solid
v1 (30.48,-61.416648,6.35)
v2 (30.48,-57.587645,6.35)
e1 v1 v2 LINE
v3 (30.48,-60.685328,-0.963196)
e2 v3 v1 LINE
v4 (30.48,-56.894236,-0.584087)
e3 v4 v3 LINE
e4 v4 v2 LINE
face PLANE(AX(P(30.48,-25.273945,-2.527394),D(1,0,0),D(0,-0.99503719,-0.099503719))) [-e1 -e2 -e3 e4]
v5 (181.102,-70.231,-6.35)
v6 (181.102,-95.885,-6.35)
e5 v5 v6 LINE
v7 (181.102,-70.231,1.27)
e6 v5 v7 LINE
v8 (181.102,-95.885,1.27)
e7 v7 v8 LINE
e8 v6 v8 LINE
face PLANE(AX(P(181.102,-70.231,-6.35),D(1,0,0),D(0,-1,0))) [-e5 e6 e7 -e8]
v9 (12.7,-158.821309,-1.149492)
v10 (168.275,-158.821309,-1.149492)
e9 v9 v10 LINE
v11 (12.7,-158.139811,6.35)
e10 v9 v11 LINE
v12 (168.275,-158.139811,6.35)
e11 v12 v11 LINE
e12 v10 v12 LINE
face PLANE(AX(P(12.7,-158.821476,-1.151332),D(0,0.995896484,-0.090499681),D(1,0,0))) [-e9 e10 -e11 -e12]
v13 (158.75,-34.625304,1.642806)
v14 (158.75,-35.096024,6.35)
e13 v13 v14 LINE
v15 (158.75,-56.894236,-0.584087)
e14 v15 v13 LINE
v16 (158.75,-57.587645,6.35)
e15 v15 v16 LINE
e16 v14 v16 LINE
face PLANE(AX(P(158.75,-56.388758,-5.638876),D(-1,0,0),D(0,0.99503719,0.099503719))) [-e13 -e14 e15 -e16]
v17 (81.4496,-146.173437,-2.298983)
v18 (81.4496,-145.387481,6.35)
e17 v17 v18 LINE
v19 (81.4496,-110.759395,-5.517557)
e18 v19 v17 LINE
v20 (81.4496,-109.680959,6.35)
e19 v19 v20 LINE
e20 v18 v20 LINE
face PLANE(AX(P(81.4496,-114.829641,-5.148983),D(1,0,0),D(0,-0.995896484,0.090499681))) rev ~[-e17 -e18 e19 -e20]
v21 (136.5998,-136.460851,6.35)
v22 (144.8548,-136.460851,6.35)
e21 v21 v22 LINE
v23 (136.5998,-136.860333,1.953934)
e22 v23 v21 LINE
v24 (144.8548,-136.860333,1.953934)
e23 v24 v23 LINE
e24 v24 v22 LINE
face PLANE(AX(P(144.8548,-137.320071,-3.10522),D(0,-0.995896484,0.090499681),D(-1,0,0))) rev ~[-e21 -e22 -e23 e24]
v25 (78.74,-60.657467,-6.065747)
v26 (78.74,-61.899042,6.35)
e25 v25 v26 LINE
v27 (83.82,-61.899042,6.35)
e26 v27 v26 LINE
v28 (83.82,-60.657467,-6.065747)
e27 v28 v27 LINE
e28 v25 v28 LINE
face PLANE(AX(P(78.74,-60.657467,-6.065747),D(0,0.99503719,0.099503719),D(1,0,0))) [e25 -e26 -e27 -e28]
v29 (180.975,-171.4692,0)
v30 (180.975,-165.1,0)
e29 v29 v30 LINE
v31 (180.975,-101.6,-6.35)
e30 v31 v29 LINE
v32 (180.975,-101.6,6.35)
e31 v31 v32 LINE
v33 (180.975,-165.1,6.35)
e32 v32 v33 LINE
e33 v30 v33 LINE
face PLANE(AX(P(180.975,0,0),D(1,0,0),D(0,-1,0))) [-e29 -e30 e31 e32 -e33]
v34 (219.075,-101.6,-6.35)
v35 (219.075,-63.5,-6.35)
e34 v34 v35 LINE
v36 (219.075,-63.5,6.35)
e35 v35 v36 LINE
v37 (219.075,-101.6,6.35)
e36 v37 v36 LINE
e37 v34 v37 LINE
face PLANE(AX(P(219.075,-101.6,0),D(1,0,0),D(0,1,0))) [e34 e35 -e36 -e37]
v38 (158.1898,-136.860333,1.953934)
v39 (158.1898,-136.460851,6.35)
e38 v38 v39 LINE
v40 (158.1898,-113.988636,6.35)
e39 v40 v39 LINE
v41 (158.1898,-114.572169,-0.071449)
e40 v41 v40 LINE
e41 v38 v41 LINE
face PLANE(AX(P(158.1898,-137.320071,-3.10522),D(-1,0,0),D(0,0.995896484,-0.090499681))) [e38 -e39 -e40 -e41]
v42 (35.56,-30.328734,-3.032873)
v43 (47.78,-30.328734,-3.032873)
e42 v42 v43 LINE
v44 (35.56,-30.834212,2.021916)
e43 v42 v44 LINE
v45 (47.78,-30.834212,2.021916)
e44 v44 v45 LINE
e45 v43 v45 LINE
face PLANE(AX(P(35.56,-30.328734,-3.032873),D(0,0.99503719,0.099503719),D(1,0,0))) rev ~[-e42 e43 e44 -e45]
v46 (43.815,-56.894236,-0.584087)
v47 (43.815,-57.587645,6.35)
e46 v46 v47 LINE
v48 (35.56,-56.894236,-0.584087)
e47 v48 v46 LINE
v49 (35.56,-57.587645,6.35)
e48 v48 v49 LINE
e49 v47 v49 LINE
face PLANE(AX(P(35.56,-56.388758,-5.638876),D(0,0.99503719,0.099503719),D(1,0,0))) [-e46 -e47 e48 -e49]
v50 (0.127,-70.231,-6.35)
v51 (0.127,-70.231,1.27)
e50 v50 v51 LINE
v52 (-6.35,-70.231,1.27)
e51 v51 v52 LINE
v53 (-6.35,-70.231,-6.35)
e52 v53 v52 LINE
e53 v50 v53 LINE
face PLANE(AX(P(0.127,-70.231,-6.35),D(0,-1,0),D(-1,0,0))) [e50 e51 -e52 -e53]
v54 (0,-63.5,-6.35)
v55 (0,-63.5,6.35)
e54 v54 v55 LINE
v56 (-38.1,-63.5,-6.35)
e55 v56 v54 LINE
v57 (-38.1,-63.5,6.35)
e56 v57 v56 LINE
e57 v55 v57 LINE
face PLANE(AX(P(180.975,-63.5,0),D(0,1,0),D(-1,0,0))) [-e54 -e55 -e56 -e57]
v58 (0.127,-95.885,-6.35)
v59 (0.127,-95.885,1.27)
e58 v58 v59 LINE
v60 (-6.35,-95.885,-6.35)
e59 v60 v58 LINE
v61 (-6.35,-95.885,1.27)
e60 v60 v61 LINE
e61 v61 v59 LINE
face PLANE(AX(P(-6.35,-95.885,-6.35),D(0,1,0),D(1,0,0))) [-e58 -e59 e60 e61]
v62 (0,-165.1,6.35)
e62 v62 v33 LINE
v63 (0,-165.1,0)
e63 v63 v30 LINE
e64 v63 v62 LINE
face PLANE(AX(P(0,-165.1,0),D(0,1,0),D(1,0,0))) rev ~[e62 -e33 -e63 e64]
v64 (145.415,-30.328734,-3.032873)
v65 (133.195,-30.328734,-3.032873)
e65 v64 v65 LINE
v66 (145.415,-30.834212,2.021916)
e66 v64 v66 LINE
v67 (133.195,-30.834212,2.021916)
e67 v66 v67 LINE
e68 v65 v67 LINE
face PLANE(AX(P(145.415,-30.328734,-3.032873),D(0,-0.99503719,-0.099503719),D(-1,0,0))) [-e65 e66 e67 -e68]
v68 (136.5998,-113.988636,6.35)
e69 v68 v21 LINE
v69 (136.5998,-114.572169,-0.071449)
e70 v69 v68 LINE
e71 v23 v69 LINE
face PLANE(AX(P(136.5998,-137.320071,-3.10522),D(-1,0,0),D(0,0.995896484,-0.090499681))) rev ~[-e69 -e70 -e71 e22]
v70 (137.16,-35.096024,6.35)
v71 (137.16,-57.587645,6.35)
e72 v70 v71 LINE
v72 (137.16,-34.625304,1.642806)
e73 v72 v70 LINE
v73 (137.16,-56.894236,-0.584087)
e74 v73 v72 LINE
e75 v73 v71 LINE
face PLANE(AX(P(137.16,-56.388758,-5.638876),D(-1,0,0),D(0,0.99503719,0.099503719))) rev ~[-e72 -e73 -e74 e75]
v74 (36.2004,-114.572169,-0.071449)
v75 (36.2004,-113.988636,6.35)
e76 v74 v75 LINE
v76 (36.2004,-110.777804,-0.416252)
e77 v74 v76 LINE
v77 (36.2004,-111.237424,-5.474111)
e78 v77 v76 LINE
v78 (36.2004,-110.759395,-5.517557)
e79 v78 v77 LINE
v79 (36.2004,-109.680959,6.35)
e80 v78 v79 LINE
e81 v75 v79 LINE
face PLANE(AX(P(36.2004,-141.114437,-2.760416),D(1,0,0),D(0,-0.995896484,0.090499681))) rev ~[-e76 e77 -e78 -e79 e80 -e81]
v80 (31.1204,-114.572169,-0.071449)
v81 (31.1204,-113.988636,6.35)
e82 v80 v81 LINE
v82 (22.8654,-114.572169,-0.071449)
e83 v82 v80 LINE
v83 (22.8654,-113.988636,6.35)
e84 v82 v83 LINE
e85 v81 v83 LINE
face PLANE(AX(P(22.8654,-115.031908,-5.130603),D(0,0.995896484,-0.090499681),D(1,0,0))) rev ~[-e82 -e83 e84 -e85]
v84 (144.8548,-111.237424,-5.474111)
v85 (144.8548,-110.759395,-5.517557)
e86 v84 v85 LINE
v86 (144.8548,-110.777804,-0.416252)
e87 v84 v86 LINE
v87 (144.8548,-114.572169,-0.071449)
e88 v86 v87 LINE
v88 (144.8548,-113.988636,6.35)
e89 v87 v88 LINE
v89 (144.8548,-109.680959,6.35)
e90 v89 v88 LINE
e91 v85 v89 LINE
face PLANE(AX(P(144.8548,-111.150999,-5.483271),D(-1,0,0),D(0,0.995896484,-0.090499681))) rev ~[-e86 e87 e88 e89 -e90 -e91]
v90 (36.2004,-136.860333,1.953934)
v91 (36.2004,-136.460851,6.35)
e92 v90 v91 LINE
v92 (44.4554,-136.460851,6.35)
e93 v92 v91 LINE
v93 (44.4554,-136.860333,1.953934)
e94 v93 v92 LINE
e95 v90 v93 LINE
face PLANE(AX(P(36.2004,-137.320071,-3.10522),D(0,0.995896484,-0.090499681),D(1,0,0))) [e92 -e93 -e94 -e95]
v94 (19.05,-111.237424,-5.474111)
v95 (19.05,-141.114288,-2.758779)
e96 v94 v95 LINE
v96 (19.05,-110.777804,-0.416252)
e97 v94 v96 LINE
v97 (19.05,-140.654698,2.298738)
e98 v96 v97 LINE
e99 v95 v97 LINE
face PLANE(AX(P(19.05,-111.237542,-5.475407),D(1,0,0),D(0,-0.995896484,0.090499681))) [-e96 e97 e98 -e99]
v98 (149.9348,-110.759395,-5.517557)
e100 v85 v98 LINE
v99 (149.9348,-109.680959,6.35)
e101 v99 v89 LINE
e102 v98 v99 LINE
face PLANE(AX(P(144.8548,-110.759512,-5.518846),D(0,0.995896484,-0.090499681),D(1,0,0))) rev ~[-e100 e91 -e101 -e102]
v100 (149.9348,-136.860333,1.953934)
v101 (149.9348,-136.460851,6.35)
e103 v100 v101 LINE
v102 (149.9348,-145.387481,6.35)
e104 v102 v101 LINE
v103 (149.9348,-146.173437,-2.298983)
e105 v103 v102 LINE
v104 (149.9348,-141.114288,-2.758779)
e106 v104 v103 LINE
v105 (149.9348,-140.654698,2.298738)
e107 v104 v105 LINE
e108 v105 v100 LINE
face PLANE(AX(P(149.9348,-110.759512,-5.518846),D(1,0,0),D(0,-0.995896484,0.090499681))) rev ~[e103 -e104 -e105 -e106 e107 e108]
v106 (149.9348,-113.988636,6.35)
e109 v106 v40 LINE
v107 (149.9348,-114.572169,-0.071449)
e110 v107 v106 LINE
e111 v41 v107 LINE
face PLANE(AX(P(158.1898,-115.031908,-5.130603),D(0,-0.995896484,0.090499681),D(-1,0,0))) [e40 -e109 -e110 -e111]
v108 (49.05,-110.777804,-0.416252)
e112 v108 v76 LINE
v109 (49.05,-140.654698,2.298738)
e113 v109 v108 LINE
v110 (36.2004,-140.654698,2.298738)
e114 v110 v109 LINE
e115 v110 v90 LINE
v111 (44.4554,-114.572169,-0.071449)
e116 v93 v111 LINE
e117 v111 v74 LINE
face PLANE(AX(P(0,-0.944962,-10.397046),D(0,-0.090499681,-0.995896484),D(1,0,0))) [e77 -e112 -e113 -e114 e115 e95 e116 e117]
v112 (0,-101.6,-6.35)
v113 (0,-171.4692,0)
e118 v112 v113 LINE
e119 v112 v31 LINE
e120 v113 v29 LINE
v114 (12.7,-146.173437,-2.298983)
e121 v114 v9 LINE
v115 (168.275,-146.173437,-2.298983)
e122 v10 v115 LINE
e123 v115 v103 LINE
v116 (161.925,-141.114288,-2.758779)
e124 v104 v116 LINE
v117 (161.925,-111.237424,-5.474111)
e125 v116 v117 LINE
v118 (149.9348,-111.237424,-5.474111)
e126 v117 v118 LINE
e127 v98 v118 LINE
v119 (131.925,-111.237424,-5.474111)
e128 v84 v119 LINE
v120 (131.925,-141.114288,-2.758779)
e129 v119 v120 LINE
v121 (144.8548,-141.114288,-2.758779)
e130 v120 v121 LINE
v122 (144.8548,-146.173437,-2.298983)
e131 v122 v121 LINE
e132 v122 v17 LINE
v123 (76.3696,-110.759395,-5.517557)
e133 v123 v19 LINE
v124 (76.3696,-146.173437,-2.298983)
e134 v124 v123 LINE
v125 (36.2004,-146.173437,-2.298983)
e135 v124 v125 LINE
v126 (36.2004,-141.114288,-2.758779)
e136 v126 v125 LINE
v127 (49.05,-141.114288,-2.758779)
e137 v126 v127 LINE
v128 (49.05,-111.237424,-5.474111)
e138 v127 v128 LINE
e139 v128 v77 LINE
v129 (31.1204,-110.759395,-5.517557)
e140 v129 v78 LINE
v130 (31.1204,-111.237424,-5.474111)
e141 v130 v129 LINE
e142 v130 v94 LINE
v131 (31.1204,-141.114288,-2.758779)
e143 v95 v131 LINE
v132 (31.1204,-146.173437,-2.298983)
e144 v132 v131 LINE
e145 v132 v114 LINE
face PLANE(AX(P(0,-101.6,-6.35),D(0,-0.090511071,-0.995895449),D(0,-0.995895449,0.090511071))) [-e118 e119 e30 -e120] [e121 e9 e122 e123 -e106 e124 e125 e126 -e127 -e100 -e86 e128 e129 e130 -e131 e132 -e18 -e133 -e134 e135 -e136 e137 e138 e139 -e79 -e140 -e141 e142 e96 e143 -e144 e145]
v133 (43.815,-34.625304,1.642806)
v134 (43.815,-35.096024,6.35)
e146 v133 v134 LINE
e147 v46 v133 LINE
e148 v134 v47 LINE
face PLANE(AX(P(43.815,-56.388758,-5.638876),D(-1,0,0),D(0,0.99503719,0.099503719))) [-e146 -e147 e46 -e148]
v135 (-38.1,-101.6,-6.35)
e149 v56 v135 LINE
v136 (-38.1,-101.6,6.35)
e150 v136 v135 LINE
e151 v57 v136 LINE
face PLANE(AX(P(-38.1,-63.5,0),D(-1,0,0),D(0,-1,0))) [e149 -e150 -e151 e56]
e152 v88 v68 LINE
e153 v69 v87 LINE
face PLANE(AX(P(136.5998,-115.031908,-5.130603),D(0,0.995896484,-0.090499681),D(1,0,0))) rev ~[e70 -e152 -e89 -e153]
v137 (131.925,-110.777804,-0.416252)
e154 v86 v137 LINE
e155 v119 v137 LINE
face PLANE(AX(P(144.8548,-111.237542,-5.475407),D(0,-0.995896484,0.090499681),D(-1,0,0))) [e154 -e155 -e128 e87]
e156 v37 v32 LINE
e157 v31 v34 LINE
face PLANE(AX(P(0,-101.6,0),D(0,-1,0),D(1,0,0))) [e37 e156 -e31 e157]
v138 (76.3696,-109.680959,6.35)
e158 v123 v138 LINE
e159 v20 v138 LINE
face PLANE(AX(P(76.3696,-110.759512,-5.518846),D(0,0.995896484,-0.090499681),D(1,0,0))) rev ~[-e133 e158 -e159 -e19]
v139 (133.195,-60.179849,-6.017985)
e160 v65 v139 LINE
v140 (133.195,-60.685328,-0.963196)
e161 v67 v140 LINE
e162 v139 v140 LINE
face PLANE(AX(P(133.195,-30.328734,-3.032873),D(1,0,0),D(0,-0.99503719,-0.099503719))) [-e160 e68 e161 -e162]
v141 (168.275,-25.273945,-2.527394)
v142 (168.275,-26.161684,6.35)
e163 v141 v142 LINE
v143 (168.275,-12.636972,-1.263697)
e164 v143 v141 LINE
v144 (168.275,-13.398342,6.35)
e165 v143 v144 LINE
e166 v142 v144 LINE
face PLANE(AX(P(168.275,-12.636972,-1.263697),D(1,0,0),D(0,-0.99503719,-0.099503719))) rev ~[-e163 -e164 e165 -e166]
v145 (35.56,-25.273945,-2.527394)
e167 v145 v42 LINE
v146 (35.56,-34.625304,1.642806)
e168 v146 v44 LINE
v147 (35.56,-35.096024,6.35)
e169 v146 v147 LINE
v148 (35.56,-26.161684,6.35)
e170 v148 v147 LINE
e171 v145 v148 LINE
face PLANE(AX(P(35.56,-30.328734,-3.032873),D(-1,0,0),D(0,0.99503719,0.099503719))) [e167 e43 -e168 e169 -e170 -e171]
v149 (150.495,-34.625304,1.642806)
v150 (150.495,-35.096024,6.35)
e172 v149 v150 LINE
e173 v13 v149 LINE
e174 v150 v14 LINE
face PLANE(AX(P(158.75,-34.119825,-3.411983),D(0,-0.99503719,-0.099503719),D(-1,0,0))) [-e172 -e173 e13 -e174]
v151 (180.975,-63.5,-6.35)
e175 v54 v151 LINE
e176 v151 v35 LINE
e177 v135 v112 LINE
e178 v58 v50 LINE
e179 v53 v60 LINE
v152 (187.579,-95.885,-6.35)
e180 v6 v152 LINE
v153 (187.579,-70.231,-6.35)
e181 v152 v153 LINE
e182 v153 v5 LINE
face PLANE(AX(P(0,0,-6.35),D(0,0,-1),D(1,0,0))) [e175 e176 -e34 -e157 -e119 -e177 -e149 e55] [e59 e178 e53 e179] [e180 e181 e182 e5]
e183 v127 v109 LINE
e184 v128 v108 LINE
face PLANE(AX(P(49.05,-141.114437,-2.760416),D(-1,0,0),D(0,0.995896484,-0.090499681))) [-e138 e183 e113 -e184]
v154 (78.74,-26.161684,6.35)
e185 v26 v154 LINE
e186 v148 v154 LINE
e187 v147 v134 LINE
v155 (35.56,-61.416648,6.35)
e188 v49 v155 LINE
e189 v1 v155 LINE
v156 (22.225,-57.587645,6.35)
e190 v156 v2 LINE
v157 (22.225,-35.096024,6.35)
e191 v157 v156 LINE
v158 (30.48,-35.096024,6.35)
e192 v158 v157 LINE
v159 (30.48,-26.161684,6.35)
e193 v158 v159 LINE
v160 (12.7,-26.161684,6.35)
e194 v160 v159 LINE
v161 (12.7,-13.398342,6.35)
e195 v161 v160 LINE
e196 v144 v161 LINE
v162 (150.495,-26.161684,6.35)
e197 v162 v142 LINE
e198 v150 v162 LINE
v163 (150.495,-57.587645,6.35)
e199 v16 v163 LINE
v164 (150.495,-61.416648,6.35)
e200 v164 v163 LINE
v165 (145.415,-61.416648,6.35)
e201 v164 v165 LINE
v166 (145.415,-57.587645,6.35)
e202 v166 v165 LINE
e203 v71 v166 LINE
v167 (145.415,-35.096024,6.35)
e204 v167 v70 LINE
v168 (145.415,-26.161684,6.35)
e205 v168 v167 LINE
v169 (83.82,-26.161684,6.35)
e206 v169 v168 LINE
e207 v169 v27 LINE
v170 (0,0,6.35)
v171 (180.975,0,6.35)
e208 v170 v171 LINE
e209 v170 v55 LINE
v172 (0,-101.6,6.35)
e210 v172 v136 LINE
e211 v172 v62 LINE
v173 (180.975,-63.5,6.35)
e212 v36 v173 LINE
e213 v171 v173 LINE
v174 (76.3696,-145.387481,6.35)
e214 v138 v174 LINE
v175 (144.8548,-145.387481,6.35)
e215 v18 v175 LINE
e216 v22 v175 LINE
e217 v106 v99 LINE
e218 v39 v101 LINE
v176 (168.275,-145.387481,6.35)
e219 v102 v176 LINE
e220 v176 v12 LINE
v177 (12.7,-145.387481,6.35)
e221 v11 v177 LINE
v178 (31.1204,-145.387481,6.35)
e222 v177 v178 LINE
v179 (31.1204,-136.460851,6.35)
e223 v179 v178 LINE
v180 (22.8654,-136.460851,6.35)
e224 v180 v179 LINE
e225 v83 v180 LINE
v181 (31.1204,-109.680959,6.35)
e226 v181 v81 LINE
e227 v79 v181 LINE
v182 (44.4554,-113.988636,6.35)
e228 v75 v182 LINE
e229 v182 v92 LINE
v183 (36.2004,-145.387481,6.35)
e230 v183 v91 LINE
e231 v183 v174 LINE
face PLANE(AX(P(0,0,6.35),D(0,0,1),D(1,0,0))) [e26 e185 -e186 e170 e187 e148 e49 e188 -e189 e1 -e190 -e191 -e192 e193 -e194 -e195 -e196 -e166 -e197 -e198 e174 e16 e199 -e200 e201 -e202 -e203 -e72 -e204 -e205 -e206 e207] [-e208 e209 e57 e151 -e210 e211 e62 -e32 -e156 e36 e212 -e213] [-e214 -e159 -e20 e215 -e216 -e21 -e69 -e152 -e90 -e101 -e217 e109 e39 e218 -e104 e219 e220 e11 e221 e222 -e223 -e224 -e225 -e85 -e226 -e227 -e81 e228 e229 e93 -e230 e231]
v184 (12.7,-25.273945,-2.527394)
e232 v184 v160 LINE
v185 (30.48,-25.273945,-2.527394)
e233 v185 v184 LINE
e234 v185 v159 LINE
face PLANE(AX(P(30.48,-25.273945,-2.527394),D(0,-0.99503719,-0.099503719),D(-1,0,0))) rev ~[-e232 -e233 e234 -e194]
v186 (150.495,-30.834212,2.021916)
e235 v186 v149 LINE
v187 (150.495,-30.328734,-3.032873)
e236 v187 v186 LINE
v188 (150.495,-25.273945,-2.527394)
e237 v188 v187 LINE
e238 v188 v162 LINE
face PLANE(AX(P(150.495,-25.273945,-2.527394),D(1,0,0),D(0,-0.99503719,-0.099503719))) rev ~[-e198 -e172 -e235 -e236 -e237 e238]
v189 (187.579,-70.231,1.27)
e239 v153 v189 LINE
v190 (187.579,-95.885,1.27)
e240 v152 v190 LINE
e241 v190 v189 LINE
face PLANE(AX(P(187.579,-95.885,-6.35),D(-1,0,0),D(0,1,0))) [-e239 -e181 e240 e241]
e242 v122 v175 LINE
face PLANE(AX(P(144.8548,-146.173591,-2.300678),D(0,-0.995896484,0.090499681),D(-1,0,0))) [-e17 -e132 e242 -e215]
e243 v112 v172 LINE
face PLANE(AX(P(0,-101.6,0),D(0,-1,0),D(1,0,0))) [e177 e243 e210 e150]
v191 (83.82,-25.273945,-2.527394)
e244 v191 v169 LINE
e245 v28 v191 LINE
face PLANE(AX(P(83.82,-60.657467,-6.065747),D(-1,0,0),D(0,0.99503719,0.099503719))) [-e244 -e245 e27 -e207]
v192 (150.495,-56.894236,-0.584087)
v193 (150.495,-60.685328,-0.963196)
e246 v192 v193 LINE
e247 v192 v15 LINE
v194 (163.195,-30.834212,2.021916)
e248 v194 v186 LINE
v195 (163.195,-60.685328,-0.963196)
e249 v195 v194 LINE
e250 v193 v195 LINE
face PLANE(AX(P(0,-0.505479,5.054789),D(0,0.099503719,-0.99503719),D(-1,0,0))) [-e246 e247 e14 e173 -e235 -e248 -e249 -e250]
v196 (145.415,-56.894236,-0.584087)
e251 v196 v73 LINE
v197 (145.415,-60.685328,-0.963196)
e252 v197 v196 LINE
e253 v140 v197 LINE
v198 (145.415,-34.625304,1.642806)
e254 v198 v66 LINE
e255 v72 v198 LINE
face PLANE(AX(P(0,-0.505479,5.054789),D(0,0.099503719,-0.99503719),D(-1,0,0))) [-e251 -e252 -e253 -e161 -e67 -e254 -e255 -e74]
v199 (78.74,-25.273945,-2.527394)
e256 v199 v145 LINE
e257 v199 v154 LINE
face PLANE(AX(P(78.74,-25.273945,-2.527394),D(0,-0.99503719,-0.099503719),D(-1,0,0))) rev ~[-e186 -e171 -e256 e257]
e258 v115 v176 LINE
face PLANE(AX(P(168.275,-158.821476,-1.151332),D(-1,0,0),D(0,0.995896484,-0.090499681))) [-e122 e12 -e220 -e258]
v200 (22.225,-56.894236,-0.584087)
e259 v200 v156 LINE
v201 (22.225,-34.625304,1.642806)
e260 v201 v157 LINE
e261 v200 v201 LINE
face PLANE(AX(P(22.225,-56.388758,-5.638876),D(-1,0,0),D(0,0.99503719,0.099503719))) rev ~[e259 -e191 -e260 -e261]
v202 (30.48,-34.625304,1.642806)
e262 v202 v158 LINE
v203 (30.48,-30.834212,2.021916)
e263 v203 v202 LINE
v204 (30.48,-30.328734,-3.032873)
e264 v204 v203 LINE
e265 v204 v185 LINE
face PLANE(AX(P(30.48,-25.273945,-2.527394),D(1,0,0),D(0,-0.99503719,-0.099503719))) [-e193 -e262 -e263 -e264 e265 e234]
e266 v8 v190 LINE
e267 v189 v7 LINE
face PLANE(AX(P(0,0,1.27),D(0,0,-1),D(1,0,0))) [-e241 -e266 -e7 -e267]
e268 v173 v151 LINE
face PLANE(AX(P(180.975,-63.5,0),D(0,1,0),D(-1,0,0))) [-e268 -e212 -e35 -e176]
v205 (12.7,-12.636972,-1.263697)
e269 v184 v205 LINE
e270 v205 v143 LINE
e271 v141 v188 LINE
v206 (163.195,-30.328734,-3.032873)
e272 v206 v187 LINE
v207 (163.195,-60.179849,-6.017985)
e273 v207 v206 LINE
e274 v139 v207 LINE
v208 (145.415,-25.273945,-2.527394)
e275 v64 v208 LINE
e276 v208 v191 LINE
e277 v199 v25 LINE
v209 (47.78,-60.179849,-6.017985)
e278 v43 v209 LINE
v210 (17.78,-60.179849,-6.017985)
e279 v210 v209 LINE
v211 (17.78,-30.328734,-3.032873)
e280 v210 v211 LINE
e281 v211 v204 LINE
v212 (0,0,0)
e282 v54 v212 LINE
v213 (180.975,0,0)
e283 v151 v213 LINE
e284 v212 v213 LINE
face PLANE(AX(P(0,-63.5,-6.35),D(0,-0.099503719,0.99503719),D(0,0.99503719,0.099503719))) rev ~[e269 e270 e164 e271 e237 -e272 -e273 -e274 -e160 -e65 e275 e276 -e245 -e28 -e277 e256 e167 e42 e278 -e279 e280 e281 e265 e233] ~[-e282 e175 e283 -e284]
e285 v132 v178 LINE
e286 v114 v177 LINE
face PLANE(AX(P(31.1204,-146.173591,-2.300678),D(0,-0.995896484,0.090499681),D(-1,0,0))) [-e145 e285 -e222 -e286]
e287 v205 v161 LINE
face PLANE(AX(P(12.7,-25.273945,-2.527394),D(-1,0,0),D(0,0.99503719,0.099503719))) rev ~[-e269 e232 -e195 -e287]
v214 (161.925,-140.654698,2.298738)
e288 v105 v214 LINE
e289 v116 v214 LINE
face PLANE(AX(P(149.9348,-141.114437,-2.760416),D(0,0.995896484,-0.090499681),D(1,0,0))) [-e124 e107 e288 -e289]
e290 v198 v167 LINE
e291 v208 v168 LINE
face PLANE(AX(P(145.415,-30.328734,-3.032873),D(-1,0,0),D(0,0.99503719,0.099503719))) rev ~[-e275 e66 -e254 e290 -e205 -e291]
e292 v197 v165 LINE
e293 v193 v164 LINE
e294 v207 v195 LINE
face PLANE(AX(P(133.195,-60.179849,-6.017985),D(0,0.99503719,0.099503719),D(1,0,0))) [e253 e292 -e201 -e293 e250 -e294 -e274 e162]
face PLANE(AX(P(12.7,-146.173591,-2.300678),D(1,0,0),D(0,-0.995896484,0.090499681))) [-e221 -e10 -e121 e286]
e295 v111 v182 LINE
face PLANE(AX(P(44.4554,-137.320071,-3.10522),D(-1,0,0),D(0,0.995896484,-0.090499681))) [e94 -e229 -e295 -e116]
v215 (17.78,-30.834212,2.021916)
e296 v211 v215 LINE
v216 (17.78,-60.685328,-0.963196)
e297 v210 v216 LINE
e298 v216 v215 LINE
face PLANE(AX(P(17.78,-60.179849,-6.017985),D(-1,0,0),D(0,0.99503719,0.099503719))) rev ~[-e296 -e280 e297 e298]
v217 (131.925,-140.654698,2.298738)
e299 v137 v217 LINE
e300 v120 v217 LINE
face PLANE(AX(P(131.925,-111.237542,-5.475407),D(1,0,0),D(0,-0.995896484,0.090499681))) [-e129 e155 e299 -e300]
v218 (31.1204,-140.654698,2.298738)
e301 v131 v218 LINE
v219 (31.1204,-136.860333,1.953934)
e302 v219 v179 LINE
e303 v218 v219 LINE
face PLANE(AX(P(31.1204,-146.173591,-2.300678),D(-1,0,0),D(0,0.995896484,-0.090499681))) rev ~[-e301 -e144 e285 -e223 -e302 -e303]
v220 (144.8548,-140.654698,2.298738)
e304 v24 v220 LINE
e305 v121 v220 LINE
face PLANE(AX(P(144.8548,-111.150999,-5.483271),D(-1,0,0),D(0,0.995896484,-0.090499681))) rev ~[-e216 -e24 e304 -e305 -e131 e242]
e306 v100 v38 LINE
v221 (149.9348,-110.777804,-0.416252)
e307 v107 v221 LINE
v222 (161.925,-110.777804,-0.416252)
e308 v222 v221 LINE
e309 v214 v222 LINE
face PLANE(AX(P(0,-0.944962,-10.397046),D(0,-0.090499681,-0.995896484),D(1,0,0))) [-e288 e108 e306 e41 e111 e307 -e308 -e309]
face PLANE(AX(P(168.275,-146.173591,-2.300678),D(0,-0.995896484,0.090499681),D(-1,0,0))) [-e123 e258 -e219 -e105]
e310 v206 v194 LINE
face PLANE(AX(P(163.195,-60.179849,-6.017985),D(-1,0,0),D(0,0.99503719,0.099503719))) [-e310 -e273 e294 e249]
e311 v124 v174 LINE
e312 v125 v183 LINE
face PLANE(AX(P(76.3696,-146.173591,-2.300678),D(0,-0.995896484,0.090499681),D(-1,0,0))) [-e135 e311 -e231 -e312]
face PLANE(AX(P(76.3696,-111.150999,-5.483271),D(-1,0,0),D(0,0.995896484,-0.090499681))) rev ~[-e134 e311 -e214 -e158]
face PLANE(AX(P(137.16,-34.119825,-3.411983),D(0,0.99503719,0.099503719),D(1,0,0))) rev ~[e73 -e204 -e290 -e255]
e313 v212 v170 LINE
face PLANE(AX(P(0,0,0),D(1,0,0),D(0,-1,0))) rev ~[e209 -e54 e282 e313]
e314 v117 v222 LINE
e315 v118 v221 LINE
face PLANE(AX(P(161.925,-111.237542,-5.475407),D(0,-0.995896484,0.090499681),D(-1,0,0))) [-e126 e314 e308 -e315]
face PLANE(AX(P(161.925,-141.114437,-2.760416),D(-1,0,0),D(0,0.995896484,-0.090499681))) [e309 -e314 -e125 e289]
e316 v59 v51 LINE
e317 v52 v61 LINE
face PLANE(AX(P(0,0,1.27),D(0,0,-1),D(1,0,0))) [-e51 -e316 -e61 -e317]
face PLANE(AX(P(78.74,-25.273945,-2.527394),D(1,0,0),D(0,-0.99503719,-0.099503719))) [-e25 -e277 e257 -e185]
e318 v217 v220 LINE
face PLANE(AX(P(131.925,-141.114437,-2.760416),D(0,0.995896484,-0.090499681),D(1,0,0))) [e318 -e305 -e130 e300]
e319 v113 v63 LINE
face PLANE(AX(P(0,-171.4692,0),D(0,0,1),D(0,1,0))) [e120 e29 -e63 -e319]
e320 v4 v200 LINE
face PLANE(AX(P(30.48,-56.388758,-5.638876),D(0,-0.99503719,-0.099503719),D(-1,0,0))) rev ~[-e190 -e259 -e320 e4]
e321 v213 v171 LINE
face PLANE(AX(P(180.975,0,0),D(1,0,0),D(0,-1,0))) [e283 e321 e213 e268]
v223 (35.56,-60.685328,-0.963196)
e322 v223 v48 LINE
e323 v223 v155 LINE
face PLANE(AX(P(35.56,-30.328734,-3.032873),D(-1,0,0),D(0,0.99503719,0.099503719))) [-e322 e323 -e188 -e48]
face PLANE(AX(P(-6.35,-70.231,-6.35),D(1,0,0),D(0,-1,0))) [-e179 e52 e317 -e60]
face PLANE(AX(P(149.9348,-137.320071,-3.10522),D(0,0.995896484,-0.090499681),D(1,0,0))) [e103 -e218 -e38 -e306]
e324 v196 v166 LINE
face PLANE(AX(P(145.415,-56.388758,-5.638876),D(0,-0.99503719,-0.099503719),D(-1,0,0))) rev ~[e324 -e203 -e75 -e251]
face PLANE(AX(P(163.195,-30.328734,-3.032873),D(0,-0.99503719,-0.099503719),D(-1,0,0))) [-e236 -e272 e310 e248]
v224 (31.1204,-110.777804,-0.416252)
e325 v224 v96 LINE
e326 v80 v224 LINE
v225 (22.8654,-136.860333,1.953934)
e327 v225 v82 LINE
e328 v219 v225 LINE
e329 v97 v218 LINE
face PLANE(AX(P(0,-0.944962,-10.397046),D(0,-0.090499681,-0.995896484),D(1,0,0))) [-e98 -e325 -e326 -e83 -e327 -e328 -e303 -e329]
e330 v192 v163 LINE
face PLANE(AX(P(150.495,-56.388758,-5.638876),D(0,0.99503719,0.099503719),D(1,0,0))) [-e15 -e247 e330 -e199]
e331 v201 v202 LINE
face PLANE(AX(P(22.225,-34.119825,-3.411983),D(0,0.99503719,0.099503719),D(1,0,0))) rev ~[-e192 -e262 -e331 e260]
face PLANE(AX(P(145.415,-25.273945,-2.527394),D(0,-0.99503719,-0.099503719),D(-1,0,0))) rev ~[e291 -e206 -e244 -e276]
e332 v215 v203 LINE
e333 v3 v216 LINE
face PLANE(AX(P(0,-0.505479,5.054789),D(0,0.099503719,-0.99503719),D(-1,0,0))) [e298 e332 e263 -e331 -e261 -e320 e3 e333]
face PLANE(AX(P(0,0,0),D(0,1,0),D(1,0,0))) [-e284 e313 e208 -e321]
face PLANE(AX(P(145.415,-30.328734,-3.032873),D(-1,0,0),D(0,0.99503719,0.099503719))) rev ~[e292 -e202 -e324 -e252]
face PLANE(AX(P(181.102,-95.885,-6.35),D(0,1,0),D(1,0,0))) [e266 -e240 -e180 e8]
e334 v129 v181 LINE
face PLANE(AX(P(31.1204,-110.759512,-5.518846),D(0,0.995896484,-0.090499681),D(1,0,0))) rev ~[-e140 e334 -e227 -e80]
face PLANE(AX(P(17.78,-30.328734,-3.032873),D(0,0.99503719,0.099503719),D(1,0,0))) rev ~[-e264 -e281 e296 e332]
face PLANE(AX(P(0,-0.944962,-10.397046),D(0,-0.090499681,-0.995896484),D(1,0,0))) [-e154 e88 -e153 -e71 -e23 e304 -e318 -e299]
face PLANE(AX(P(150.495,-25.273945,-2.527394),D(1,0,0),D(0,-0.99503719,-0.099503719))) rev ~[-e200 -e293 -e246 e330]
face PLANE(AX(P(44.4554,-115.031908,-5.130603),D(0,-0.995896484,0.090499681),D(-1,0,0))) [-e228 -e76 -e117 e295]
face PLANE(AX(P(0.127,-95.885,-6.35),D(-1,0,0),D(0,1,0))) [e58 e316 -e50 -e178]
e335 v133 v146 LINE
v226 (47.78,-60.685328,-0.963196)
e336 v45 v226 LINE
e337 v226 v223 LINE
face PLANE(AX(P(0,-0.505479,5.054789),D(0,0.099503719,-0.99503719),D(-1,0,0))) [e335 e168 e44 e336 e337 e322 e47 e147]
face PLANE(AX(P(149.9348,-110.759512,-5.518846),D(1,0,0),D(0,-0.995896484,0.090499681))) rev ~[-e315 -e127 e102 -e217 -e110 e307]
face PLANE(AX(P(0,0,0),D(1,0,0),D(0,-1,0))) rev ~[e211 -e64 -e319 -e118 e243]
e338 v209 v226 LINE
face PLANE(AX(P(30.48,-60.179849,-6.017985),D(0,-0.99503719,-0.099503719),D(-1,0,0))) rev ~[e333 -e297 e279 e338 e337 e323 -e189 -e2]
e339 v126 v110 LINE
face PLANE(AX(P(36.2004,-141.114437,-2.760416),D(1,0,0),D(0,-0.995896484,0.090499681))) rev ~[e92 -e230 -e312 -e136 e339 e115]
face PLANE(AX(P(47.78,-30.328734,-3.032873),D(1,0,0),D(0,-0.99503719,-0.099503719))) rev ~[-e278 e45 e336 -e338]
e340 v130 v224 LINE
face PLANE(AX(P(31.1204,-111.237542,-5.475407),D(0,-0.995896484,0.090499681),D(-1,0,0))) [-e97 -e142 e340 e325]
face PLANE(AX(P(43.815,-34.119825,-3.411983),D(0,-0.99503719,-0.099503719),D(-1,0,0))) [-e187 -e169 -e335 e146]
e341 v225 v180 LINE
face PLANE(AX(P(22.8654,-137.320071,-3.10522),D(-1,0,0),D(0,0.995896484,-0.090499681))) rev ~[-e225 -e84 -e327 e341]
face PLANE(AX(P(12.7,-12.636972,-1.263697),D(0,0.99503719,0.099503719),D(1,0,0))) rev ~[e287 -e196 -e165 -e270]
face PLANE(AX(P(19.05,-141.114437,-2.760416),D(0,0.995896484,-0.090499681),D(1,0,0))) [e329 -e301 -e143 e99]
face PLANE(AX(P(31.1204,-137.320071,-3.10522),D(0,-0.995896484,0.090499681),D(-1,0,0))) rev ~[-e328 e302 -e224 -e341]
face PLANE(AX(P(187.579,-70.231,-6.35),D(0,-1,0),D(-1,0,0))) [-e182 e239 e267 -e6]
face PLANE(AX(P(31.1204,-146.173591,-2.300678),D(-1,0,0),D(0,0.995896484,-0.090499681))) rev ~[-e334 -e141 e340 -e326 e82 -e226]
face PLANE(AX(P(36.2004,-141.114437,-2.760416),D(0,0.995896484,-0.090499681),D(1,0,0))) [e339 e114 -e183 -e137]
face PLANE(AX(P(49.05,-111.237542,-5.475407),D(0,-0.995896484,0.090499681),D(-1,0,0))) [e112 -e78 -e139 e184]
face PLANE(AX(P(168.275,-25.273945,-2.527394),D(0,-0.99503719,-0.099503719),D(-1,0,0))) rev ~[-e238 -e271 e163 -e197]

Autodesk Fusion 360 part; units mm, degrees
sketch "Sketch1" plane through (0, 0, 0) normal (0, 0, 1) x (1, 0, 0)
  line L0 (0, 0) -> (180.975, 0)
  line L1 (0, 0) -> (0, -165.1)
  line L2 (0, -165.1) -> (180.975, -165.1)
  line L3 (180.975, 0) -> (180.975, -165.1)
  dimension "d1" = 180.975
  dimension "d2" = 180.975
  dimension "d36" = 165.1
extrude "Extrude1" add sketch "Sketch1" along normal blind 6.35
sketch "Sketch2" plane through (0, 0, 6.35) normal (0, 0, 1) x (-1, 0, 0)
  line L0 (0, 0) -> (0, 165.1)
  line L1 (0, 165.1) -> (-180.975, 165.1)
  line L2 (-180.975, 165.1) -> (-180.975, 0)
  line L3 (-180.975, 0) -> (0, 0)
sketch "Sketch4" plane through (0, 0, 0) normal (0, 0, -1) x (1, 0, 0)
  line L0 (0, 165.1) -> (0, 0)
  line L1 (0, 0) -> (180.975, 0)
  line L2 (180.975, 0) -> (180.975, 165.1)
  line L3 (180.975, 165.1) -> (0, 165.1)
  line L4 (193.675, 57.15) -> (0, 57.15)
  line L5 (0, 107.95) -> (193.675, 107.95)
  curve L6
  curve L7
  line L8 (193.675, 107.95) -> (193.675, 57.15)
  dimension "d33" = 50.8
  dimension "d34" = 57.15
  dimension "d41" = 193.675
sketch "Sketch5" plane through (0, 0, 0) normal (1, 0, 0) x (0, 1, 0)
  line L0 (-69.85, -6.35) -> (0, 0)
  line L1 (-95.2638, -6.3731) -> (-165.1, 0)
  line L2 (-69.85, -6.35) -> (-69.85, 0)
  line L3 (-69.85, 0) -> (0, 0)
  line L4 (-95.2638, -6.3731) -> (-95.2638, 0)
  line L5 (-95.2638, 0) -> (-165.1, 0)
sketch "Sketch10" plane through (0, 0, 0) normal (-1, 0, 0) x (0, -1, 0)
  line L0 (0, 0) -> (165.1, 0)
  line L1 (165.1, 0) -> (165.1, 6.35)
  line L2 (165.1, 6.35) -> (0, 6.35)
  line L3 (0, 6.35) -> (0, 0)
  line L4 (165.1, 0) -> (69.85, 0)
  line L5 (69.85, 0) -> (69.85, -6.35)
sketch "Sketch11" plane through (0, 0, 0) normal (0, 0, -1) x (1, 0, 0)
  line L0 (0, 165.1) -> (0, 0)
  line L1 (0, 0) -> (180.975, 0)
  line L2 (180.975, 0) -> (180.975, 165.1)
  line L3 (180.975, 165.1) -> (0, 165.1)
  line L4 (-38.1, 101.6) -> (219.075, 101.6)
  line L5 (219.075, 101.6) -> (219.075, 63.5)
  line L6 (219.075, 63.5) -> (-38.1, 63.5)
  line L7 (-38.1, 63.5) -> (-38.1, 101.6)
  dimension "d67" = 38.1
  dimension "d68" = 38.1
  dimension "d69" = 38.1
  dimension "d70" = 63.5
  dimension "d71" = 165.1
extrude "Extrude12" add sketch "Sketch11" along normal blind 6.35 and the other way blind 6.35 contours L0 L2 L4 L6 | L0 L4 L6 L7 | L2 L4 L5 L6
sketch "Sketch12" plane through (0, 0, 0) normal (1, 0, 0) x (0, 1, 0)
  line L0 (-101.6, -6.35) -> (-171.4692, 0)
  line L1 (-171.4692, 0) -> (-101.6, 0)
  line L2 (-101.6, 0) -> (-101.6, -6.35)
  line L3 (-63.5, -6.35) -> (0, 0)
  line L4 (0, 0) -> (-63.5, 0)
  line L5 (-63.5, 0) -> (-63.5, -6.35)
  curve L6
  curve L7
  point P0 (-63.5, 0)
extrude "Extrude13" add sketch "Sketch12" along normal up to surface (180.975 mm away)
sketch "Sketch13" plane through (0, -1.4047, -15.4562) normal (0, -0.0905, -0.9959) x (1, 0, 0)
  line L0 (180.975, 100.6082) -> (180.975, 170.7654)
  line L1 (0, 170.7654) -> (0, 100.6082)
  line L2 (180.975, 170.7654) -> (0, 170.7654)
  line L3 (-89.535, 82.5409) -> (270.51, 82.5409)
  line L4 (161.925, 110.2854) -> (131.925, 110.2854)
  line L5 (131.925, 110.2854) -> (131.925, 140.2854)
  line L6 (131.925, 140.2854) -> (161.925, 140.2854)
  line L7 (161.925, 140.2854) -> (161.925, 110.2854)
  line L8 (12.7, 158.0654) -> (168.275, 158.0654)
  line L9 (168.275, 158.0654) -> (168.275, 145.3654)
  line L10 (168.275, 145.3654) -> (12.7, 145.3654)
  line L11 (12.7, 145.3654) -> (12.7, 158.0654)
  line L12 (49.05, 140.2854) -> (49.05, 110.2854)
  line L13 (19.05, 140.2854) -> (49.05, 140.2854)
  line L14 (19.05, 110.2854) -> (19.05, 140.2854)
  line L15 (49.05, 110.2854) -> (19.05, 110.2854)
  line L16 (81.4496, 145.3654) -> (76.3696, 145.3654)
  line L17 (76.3696, 145.3654) -> (76.3696, 109.8054)
  line L18 (76.3696, 109.8054) -> (81.4496, 109.8054)
  line L19 (81.4496, 109.8054) -> (81.4496, 145.3654)
  line L20 (36.2004, 145.3654) -> (31.1204, 145.3654)
  line L21 (31.1204, 145.3654) -> (31.1204, 109.8054)
  line L22 (31.1204, 109.8054) -> (36.2004, 109.8054)
  line L23 (36.2004, 109.8054) -> (36.2004, 145.3654)
  line L24 (149.9348, 145.3654) -> (144.8548, 145.3654)
  line L25 (144.8548, 145.3654) -> (144.8548, 109.8054)
  line L26 (144.8548, 109.8054) -> (149.9348, 109.8054)
  line L27 (149.9348, 109.8054) -> (149.9348, 145.3654)
  line L28 (76.3696, 114.1232) -> (76.3696, 110.1985)
  line L29 (36.2004, 110.1985) -> (36.2004, 114.1232)
  line L30 (144.8548, 136.3032) -> (144.8548, 110.1985)
  line L31 (81.4496, 110.1985) -> (81.4496, 113.8923)
  line L32 (144.8548, 113.0707) -> (144.8548, 136.3032)
  line L33 (149.9348, 113.1663) -> (149.9348, 136.2076)
  dimension "d103" = 30
  dimension "d104" = 30
  dimension "d106" = 12.7
  dimension "d108" = 12.7
  dimension "d109" = 12.7
  dimension "d110" = 12.7
  dimension "d111" = 30.48
  dimension "d112" = 19.05
  dimension "d113" = 30
  dimension "d114" = 30
  dimension "d115" = 19.05
  dimension "d116" = 30.48
  dimension "d119" = 5.08
  dimension "d120" = 35.56
  dimension "d121" = 5.08
  dimension "d122" = 35.56
  dimension "d123" = 5.08
  dimension "d124" = 35.56
sketch "Sketch14" plane through (0, 0, -6.35) normal (0, 0, -1) x (1, 0, 0)
  line L0 (-38.1, 63.5) -> (0, 63.5)
  line L1 (219.075, 63.5) -> (219.075, 101.6)
  line L2 (219.075, 101.6) -> (180.975, 101.6)
  line L3 (-38.1, 101.6) -> (-38.1, 63.5)
  line L4 (-6.35, 95.885) -> (0.127, 95.885)
  line L5 (0.127, 95.885) -> (0.127, 70.231)
  line L6 (0.127, 70.231) -> (-6.35, 70.231)
  line L7 (-6.35, 70.231) -> (-6.35, 95.885)
  line L8 (181.102, 95.885) -> (187.579, 95.885)
  line L9 (187.579, 95.885) -> (187.579, 70.231)
  line L10 (187.579, 70.231) -> (181.102, 70.231)
  line L11 (181.102, 70.231) -> (181.102, 95.885)
  line L12 (180.975, 101.6) -> (0, 101.6)
  line L13 (0, 101.6) -> (-38.1, 101.6)
  line L14 (0, 63.5) -> (180.975, 63.5)
  line L15 (180.975, 63.5) -> (219.075, 63.5)
  dimension "d80" = 25.654
  dimension "d81" = 6.477
  dimension "d82" = 5.715
  dimension "d83" = 25.654
  dimension "d84" = 6.477
  dimension "d85" = 5.715
  dimension "d87" = 180.975
  dimension "d88" = 31.75
extrude "Extrude15" cut sketch "Sketch14" against normal blind 7.62 contours L4 L5 L6 L7 | L8 L9 L10 L11
extrude "Extrude16" cut sketch "Sketch13" against normal blind 12.7 contours L4 L25 L26 L27 L30 | L4 L6 L25 L27 L30 L32 L33 | L6 L10 L24 L25 L27 | L8 L9 L10 L11 L16 L20 L24 | L10 L16 L17 L18 L19 L28 L31 | L10 L13 L20 L21 L23 | L13 L15 L21 L23 L29 | L15 L21 L22 L23 L29
extrude "Extrude17" cut sketch "Sketch13" against normal blind 5.08 contours L4 L6 L7 L27 L33 | L4 L5 L6 L25 L30 L32 | L12 L13 L15 L23 L29 | L13 L14 L15 L21
sketch "Sketch15" plane through (0, -1.4047, -15.4562) normal (0, -0.0905, -0.9959) x (1, 0, 0)
  line L0 (31.1204, 136.4754) -> (22.8654, 136.4754)
  line L1 (22.8654, 136.4754) -> (22.8654, 114.0954)
  line L2 (22.8654, 114.0954) -> (31.1204, 114.0954)
  line L3 (31.1204, 114.0954) -> (31.1204, 136.4754)
  line L4 (36.2004, 136.4754) -> (44.4554, 136.4754)
  line L5 (44.4554, 136.4754) -> (44.4554, 114.0954)
  line L6 (44.4554, 114.0954) -> (36.2004, 114.0954)
  line L7 (36.2004, 114.0954) -> (36.2004, 136.4754)
  line L8 (36.2004, 109.8054) -> (36.2004, 145.3654)
  line L9 (31.1204, 145.3654) -> (31.1204, 109.8054)
  line L10 (19.05, 140.2854) -> (49.05, 140.2854)
  line L11 (49.05, 110.2854) -> (19.05, 110.2854)
  line L12 (144.8548, 136.4754) -> (136.5998, 136.4754)
  line L13 (136.5998, 136.4754) -> (136.5998, 114.0954)
  line L14 (136.5998, 114.0954) -> (144.8548, 114.0954)
  line L15 (144.8548, 114.0954) -> (144.8548, 136.4754)
  line L16 (149.9348, 136.4754) -> (158.1898, 136.4754)
  line L17 (158.1898, 136.4754) -> (158.1898, 114.0954)
  line L18 (158.1898, 114.0954) -> (149.9348, 114.0954)
  line L19 (149.9348, 114.0954) -> (149.9348, 136.4754)
  line L20 (131.925, 140.2854) -> (161.925, 140.2854)
  line L21 (161.925, 110.2854) -> (131.925, 110.2854)
  line L22 (144.8548, 145.3654) -> (144.8548, 109.8054)
  line L23 (149.9348, 109.8054) -> (149.9348, 145.3654)
  dimension "d127" = 8.255
  dimension "d128" = 8.255
  dimension "d129" = 3.81
  dimension "d130" = 3.81
  dimension "d131" = 3.81
  dimension "d132" = 3.81
  dimension "d133" = 3.81
  dimension "d134" = 3.81
  dimension "d135" = 3.81
  dimension "d136" = 3.81
  dimension "d137" = 8.255
  dimension "d138" = 8.255
extrude "Extrude18" cut sketch "Sketch15" against normal blind 12.7 contours L0 L1 L2 L3 L9 | L4 L5 L6 L7 L8 | L12 L13 L14 L15 L22 | L16 L17 L18 L19 L23
sketch "Sketch17" plane through (0, 0, 0) normal (0, 0.0995, -0.995) x (-1, 0, 0)
  line L0 (-180.975, 0) -> (-180.975, -63.8167)
  line L1 (0, -63.8167) -> (0, 0)
  line L2 (0, 0) -> (-180.975, 0)
  line L3 (-168.275, -25.4) -> (-12.7, -25.4)
  line L4 (-12.7, -25.4) -> (-12.7, -12.7)
  line L5 (-12.7, -12.7) -> (-168.275, -12.7)
  line L6 (-168.275, -12.7) -> (-168.275, -25.4)
  line L7 (-180.975, -63.8167) -> (0, -63.8167)
  line L8 (-35.56, -25.4) -> (-30.48, -25.4)
  line L9 (-30.48, -25.4) -> (-30.48, -60.96)
  line L10 (-30.48, -60.96) -> (-35.56, -60.96)
  line L11 (-35.56, -60.96) -> (-35.56, -25.4)
  line L12 (-83.82, -25.4) -> (-78.74, -25.4)
  line L13 (-78.74, -25.4) -> (-78.74, -60.96)
  line L14 (-78.74, -60.96) -> (-83.82, -60.96)
  line L15 (-83.82, -60.96) -> (-83.82, -25.4)
  line L16 (-145.415, -25.4) -> (-150.495, -25.4)
  line L17 (-150.495, -25.4) -> (-150.495, -60.96)
  line L18 (-150.495, -60.96) -> (-145.415, -60.96)
  line L19 (-145.415, -60.96) -> (-145.415, -25.4)
  line L20 (-47.78, -60.48) -> (-17.78, -60.48)
  line L21 (-17.78, -60.48) -> (-17.78, -30.48)
  line L22 (-17.78, -30.48) -> (-47.78, -30.48)
  line L23 (-47.78, -30.48) -> (-47.78, -60.48)
  line L24 (-133.195, -60.48) -> (-163.195, -60.48)
  line L25 (-163.195, -60.48) -> (-163.195, -30.48)
  line L26 (-163.195, -30.48) -> (-133.195, -30.48)
  line L27 (-133.195, -30.48) -> (-133.195, -60.48)
  dimension "d141" = 12.7
  dimension "d142" = 12.7
  dimension "d143" = 12.7
  dimension "d144" = 12.7
  dimension "d145" = 5.08
  dimension "d146" = 35.56
  dimension "d147" = 30.48
  dimension "d148" = 5.08
  dimension "d149" = 35.56
  dimension "d150" = 5.08
  dimension "d151" = 35.56
  dimension "d152" = 30.48
  dimension "d153" = 30
  dimension "d154" = 30
  dimension "d155" = 17.78
  dimension "d156" = 30
  dimension "d157" = 30
  dimension "d158" = 17.78
  dimension "d159" = 30.48
  dimension "d160" = 30.48
extrude "Extrude19" cut sketch "Sketch17" against normal blind 15.24 contours L3 L4 L5 L6 L8 L12 L16 | L3 L16 L17 L19 L26 | L17 L19 L24 L26 | L3 L12 L13 L14 L15 | L3 L8 L9 L11 L22 | L9 L11 L20 L22
extrude "Extrude20" cut sketch "Sketch17" against normal blind 5.08 contours L17 L24 L25 L26 | L19 L24 L26 L27 | L9 L20 L21 L22 | L11 L20 L22 L23
sketch "Sketch18" plane through (0, 0, 0) normal (0, 0.0995, -0.995) x (-1, 0, 0)
  line L0 (-30.48, -56.67) -> (-22.225, -56.67)
  line L1 (-22.225, -56.67) -> (-22.225, -34.29)
  line L2 (-22.225, -34.29) -> (-30.48, -34.29)
  line L3 (-30.48, -34.29) -> (-30.48, -56.67)
  line L4 (-35.56, -56.67) -> (-43.815, -56.67)
  line L5 (-43.815, -56.67) -> (-43.815, -34.29)
  line L6 (-43.815, -34.29) -> (-35.56, -34.29)
  line L7 (-35.56, -34.29) -> (-35.56, -56.67)
  line L8 (-145.415, -56.67) -> (-137.16, -56.67)
  line L9 (-137.16, -56.67) -> (-137.16, -34.29)
  line L10 (-137.16, -34.29) -> (-145.415, -34.29)
  line L11 (-145.415, -34.29) -> (-145.415, -56.67)
  line L12 (-150.495, -56.67) -> (-158.75, -56.67)
  line L13 (-158.75, -56.67) -> (-158.75, -34.29)
  line L14 (-158.75, -34.29) -> (-150.495, -34.29)
  line L15 (-150.495, -34.29) -> (-150.495, -56.67)
  line L16 (-47.78, -60.48) -> (-17.78, -60.48)
  line L17 (-17.78, -30.48) -> (-47.78, -30.48)
  line L18 (-163.195, -30.48) -> (-133.195, -30.48)
  line L19 (-133.195, -60.48) -> (-163.195, -60.48)
  line L20 (-150.495, -25.4) -> (-150.495, -60.96)
  line L21 (-145.415, -60.96) -> (-145.415, -25.4)
  line L22 (-30.48, -25.4) -> (-30.48, -60.96)
  line L23 (-35.56, -60.96) -> (-35.56, -25.4)
  dimension "d165" = 8.255
  dimension "d166" = 8.255
  dimension "d167" = 8.255
  dimension "d168" = 8.255
  dimension "d169" = 3.81
  dimension "d170" = 3.81
  dimension "d171" = 3.81
  dimension "d172" = 3.81
  dimension "d173" = 3.81
  dimension "d174" = 3.81
  dimension "d175" = 3.81
  dimension "d176" = 3.81
extrude "Extrude21" cut sketch "Sketch18" against normal blind 15.24 contours L0 L1 L2 L3 L22 | L4 L5 L6 L7 L23 | L8 L9 L10 L11 L21 | L12 L13 L14 L15 L20
equation "d34 = 0.5 * d36 - ( ( 1 ) * 1 in )"
equation "d70 = 0.5 * d71 - 0.75 in"
equation "d83 = d80"
equation "d84 = d81"
equation "d85 = d82"
equation "d166 = d165"
equation "d167 = d165"
equation "d168 = d165"
equation "d171 = d170"
equation "d172 = d169"
equation "d173 = d169"
equation "d174 = d173"
equation "d175 = d174"
equation "d176 = d173"
